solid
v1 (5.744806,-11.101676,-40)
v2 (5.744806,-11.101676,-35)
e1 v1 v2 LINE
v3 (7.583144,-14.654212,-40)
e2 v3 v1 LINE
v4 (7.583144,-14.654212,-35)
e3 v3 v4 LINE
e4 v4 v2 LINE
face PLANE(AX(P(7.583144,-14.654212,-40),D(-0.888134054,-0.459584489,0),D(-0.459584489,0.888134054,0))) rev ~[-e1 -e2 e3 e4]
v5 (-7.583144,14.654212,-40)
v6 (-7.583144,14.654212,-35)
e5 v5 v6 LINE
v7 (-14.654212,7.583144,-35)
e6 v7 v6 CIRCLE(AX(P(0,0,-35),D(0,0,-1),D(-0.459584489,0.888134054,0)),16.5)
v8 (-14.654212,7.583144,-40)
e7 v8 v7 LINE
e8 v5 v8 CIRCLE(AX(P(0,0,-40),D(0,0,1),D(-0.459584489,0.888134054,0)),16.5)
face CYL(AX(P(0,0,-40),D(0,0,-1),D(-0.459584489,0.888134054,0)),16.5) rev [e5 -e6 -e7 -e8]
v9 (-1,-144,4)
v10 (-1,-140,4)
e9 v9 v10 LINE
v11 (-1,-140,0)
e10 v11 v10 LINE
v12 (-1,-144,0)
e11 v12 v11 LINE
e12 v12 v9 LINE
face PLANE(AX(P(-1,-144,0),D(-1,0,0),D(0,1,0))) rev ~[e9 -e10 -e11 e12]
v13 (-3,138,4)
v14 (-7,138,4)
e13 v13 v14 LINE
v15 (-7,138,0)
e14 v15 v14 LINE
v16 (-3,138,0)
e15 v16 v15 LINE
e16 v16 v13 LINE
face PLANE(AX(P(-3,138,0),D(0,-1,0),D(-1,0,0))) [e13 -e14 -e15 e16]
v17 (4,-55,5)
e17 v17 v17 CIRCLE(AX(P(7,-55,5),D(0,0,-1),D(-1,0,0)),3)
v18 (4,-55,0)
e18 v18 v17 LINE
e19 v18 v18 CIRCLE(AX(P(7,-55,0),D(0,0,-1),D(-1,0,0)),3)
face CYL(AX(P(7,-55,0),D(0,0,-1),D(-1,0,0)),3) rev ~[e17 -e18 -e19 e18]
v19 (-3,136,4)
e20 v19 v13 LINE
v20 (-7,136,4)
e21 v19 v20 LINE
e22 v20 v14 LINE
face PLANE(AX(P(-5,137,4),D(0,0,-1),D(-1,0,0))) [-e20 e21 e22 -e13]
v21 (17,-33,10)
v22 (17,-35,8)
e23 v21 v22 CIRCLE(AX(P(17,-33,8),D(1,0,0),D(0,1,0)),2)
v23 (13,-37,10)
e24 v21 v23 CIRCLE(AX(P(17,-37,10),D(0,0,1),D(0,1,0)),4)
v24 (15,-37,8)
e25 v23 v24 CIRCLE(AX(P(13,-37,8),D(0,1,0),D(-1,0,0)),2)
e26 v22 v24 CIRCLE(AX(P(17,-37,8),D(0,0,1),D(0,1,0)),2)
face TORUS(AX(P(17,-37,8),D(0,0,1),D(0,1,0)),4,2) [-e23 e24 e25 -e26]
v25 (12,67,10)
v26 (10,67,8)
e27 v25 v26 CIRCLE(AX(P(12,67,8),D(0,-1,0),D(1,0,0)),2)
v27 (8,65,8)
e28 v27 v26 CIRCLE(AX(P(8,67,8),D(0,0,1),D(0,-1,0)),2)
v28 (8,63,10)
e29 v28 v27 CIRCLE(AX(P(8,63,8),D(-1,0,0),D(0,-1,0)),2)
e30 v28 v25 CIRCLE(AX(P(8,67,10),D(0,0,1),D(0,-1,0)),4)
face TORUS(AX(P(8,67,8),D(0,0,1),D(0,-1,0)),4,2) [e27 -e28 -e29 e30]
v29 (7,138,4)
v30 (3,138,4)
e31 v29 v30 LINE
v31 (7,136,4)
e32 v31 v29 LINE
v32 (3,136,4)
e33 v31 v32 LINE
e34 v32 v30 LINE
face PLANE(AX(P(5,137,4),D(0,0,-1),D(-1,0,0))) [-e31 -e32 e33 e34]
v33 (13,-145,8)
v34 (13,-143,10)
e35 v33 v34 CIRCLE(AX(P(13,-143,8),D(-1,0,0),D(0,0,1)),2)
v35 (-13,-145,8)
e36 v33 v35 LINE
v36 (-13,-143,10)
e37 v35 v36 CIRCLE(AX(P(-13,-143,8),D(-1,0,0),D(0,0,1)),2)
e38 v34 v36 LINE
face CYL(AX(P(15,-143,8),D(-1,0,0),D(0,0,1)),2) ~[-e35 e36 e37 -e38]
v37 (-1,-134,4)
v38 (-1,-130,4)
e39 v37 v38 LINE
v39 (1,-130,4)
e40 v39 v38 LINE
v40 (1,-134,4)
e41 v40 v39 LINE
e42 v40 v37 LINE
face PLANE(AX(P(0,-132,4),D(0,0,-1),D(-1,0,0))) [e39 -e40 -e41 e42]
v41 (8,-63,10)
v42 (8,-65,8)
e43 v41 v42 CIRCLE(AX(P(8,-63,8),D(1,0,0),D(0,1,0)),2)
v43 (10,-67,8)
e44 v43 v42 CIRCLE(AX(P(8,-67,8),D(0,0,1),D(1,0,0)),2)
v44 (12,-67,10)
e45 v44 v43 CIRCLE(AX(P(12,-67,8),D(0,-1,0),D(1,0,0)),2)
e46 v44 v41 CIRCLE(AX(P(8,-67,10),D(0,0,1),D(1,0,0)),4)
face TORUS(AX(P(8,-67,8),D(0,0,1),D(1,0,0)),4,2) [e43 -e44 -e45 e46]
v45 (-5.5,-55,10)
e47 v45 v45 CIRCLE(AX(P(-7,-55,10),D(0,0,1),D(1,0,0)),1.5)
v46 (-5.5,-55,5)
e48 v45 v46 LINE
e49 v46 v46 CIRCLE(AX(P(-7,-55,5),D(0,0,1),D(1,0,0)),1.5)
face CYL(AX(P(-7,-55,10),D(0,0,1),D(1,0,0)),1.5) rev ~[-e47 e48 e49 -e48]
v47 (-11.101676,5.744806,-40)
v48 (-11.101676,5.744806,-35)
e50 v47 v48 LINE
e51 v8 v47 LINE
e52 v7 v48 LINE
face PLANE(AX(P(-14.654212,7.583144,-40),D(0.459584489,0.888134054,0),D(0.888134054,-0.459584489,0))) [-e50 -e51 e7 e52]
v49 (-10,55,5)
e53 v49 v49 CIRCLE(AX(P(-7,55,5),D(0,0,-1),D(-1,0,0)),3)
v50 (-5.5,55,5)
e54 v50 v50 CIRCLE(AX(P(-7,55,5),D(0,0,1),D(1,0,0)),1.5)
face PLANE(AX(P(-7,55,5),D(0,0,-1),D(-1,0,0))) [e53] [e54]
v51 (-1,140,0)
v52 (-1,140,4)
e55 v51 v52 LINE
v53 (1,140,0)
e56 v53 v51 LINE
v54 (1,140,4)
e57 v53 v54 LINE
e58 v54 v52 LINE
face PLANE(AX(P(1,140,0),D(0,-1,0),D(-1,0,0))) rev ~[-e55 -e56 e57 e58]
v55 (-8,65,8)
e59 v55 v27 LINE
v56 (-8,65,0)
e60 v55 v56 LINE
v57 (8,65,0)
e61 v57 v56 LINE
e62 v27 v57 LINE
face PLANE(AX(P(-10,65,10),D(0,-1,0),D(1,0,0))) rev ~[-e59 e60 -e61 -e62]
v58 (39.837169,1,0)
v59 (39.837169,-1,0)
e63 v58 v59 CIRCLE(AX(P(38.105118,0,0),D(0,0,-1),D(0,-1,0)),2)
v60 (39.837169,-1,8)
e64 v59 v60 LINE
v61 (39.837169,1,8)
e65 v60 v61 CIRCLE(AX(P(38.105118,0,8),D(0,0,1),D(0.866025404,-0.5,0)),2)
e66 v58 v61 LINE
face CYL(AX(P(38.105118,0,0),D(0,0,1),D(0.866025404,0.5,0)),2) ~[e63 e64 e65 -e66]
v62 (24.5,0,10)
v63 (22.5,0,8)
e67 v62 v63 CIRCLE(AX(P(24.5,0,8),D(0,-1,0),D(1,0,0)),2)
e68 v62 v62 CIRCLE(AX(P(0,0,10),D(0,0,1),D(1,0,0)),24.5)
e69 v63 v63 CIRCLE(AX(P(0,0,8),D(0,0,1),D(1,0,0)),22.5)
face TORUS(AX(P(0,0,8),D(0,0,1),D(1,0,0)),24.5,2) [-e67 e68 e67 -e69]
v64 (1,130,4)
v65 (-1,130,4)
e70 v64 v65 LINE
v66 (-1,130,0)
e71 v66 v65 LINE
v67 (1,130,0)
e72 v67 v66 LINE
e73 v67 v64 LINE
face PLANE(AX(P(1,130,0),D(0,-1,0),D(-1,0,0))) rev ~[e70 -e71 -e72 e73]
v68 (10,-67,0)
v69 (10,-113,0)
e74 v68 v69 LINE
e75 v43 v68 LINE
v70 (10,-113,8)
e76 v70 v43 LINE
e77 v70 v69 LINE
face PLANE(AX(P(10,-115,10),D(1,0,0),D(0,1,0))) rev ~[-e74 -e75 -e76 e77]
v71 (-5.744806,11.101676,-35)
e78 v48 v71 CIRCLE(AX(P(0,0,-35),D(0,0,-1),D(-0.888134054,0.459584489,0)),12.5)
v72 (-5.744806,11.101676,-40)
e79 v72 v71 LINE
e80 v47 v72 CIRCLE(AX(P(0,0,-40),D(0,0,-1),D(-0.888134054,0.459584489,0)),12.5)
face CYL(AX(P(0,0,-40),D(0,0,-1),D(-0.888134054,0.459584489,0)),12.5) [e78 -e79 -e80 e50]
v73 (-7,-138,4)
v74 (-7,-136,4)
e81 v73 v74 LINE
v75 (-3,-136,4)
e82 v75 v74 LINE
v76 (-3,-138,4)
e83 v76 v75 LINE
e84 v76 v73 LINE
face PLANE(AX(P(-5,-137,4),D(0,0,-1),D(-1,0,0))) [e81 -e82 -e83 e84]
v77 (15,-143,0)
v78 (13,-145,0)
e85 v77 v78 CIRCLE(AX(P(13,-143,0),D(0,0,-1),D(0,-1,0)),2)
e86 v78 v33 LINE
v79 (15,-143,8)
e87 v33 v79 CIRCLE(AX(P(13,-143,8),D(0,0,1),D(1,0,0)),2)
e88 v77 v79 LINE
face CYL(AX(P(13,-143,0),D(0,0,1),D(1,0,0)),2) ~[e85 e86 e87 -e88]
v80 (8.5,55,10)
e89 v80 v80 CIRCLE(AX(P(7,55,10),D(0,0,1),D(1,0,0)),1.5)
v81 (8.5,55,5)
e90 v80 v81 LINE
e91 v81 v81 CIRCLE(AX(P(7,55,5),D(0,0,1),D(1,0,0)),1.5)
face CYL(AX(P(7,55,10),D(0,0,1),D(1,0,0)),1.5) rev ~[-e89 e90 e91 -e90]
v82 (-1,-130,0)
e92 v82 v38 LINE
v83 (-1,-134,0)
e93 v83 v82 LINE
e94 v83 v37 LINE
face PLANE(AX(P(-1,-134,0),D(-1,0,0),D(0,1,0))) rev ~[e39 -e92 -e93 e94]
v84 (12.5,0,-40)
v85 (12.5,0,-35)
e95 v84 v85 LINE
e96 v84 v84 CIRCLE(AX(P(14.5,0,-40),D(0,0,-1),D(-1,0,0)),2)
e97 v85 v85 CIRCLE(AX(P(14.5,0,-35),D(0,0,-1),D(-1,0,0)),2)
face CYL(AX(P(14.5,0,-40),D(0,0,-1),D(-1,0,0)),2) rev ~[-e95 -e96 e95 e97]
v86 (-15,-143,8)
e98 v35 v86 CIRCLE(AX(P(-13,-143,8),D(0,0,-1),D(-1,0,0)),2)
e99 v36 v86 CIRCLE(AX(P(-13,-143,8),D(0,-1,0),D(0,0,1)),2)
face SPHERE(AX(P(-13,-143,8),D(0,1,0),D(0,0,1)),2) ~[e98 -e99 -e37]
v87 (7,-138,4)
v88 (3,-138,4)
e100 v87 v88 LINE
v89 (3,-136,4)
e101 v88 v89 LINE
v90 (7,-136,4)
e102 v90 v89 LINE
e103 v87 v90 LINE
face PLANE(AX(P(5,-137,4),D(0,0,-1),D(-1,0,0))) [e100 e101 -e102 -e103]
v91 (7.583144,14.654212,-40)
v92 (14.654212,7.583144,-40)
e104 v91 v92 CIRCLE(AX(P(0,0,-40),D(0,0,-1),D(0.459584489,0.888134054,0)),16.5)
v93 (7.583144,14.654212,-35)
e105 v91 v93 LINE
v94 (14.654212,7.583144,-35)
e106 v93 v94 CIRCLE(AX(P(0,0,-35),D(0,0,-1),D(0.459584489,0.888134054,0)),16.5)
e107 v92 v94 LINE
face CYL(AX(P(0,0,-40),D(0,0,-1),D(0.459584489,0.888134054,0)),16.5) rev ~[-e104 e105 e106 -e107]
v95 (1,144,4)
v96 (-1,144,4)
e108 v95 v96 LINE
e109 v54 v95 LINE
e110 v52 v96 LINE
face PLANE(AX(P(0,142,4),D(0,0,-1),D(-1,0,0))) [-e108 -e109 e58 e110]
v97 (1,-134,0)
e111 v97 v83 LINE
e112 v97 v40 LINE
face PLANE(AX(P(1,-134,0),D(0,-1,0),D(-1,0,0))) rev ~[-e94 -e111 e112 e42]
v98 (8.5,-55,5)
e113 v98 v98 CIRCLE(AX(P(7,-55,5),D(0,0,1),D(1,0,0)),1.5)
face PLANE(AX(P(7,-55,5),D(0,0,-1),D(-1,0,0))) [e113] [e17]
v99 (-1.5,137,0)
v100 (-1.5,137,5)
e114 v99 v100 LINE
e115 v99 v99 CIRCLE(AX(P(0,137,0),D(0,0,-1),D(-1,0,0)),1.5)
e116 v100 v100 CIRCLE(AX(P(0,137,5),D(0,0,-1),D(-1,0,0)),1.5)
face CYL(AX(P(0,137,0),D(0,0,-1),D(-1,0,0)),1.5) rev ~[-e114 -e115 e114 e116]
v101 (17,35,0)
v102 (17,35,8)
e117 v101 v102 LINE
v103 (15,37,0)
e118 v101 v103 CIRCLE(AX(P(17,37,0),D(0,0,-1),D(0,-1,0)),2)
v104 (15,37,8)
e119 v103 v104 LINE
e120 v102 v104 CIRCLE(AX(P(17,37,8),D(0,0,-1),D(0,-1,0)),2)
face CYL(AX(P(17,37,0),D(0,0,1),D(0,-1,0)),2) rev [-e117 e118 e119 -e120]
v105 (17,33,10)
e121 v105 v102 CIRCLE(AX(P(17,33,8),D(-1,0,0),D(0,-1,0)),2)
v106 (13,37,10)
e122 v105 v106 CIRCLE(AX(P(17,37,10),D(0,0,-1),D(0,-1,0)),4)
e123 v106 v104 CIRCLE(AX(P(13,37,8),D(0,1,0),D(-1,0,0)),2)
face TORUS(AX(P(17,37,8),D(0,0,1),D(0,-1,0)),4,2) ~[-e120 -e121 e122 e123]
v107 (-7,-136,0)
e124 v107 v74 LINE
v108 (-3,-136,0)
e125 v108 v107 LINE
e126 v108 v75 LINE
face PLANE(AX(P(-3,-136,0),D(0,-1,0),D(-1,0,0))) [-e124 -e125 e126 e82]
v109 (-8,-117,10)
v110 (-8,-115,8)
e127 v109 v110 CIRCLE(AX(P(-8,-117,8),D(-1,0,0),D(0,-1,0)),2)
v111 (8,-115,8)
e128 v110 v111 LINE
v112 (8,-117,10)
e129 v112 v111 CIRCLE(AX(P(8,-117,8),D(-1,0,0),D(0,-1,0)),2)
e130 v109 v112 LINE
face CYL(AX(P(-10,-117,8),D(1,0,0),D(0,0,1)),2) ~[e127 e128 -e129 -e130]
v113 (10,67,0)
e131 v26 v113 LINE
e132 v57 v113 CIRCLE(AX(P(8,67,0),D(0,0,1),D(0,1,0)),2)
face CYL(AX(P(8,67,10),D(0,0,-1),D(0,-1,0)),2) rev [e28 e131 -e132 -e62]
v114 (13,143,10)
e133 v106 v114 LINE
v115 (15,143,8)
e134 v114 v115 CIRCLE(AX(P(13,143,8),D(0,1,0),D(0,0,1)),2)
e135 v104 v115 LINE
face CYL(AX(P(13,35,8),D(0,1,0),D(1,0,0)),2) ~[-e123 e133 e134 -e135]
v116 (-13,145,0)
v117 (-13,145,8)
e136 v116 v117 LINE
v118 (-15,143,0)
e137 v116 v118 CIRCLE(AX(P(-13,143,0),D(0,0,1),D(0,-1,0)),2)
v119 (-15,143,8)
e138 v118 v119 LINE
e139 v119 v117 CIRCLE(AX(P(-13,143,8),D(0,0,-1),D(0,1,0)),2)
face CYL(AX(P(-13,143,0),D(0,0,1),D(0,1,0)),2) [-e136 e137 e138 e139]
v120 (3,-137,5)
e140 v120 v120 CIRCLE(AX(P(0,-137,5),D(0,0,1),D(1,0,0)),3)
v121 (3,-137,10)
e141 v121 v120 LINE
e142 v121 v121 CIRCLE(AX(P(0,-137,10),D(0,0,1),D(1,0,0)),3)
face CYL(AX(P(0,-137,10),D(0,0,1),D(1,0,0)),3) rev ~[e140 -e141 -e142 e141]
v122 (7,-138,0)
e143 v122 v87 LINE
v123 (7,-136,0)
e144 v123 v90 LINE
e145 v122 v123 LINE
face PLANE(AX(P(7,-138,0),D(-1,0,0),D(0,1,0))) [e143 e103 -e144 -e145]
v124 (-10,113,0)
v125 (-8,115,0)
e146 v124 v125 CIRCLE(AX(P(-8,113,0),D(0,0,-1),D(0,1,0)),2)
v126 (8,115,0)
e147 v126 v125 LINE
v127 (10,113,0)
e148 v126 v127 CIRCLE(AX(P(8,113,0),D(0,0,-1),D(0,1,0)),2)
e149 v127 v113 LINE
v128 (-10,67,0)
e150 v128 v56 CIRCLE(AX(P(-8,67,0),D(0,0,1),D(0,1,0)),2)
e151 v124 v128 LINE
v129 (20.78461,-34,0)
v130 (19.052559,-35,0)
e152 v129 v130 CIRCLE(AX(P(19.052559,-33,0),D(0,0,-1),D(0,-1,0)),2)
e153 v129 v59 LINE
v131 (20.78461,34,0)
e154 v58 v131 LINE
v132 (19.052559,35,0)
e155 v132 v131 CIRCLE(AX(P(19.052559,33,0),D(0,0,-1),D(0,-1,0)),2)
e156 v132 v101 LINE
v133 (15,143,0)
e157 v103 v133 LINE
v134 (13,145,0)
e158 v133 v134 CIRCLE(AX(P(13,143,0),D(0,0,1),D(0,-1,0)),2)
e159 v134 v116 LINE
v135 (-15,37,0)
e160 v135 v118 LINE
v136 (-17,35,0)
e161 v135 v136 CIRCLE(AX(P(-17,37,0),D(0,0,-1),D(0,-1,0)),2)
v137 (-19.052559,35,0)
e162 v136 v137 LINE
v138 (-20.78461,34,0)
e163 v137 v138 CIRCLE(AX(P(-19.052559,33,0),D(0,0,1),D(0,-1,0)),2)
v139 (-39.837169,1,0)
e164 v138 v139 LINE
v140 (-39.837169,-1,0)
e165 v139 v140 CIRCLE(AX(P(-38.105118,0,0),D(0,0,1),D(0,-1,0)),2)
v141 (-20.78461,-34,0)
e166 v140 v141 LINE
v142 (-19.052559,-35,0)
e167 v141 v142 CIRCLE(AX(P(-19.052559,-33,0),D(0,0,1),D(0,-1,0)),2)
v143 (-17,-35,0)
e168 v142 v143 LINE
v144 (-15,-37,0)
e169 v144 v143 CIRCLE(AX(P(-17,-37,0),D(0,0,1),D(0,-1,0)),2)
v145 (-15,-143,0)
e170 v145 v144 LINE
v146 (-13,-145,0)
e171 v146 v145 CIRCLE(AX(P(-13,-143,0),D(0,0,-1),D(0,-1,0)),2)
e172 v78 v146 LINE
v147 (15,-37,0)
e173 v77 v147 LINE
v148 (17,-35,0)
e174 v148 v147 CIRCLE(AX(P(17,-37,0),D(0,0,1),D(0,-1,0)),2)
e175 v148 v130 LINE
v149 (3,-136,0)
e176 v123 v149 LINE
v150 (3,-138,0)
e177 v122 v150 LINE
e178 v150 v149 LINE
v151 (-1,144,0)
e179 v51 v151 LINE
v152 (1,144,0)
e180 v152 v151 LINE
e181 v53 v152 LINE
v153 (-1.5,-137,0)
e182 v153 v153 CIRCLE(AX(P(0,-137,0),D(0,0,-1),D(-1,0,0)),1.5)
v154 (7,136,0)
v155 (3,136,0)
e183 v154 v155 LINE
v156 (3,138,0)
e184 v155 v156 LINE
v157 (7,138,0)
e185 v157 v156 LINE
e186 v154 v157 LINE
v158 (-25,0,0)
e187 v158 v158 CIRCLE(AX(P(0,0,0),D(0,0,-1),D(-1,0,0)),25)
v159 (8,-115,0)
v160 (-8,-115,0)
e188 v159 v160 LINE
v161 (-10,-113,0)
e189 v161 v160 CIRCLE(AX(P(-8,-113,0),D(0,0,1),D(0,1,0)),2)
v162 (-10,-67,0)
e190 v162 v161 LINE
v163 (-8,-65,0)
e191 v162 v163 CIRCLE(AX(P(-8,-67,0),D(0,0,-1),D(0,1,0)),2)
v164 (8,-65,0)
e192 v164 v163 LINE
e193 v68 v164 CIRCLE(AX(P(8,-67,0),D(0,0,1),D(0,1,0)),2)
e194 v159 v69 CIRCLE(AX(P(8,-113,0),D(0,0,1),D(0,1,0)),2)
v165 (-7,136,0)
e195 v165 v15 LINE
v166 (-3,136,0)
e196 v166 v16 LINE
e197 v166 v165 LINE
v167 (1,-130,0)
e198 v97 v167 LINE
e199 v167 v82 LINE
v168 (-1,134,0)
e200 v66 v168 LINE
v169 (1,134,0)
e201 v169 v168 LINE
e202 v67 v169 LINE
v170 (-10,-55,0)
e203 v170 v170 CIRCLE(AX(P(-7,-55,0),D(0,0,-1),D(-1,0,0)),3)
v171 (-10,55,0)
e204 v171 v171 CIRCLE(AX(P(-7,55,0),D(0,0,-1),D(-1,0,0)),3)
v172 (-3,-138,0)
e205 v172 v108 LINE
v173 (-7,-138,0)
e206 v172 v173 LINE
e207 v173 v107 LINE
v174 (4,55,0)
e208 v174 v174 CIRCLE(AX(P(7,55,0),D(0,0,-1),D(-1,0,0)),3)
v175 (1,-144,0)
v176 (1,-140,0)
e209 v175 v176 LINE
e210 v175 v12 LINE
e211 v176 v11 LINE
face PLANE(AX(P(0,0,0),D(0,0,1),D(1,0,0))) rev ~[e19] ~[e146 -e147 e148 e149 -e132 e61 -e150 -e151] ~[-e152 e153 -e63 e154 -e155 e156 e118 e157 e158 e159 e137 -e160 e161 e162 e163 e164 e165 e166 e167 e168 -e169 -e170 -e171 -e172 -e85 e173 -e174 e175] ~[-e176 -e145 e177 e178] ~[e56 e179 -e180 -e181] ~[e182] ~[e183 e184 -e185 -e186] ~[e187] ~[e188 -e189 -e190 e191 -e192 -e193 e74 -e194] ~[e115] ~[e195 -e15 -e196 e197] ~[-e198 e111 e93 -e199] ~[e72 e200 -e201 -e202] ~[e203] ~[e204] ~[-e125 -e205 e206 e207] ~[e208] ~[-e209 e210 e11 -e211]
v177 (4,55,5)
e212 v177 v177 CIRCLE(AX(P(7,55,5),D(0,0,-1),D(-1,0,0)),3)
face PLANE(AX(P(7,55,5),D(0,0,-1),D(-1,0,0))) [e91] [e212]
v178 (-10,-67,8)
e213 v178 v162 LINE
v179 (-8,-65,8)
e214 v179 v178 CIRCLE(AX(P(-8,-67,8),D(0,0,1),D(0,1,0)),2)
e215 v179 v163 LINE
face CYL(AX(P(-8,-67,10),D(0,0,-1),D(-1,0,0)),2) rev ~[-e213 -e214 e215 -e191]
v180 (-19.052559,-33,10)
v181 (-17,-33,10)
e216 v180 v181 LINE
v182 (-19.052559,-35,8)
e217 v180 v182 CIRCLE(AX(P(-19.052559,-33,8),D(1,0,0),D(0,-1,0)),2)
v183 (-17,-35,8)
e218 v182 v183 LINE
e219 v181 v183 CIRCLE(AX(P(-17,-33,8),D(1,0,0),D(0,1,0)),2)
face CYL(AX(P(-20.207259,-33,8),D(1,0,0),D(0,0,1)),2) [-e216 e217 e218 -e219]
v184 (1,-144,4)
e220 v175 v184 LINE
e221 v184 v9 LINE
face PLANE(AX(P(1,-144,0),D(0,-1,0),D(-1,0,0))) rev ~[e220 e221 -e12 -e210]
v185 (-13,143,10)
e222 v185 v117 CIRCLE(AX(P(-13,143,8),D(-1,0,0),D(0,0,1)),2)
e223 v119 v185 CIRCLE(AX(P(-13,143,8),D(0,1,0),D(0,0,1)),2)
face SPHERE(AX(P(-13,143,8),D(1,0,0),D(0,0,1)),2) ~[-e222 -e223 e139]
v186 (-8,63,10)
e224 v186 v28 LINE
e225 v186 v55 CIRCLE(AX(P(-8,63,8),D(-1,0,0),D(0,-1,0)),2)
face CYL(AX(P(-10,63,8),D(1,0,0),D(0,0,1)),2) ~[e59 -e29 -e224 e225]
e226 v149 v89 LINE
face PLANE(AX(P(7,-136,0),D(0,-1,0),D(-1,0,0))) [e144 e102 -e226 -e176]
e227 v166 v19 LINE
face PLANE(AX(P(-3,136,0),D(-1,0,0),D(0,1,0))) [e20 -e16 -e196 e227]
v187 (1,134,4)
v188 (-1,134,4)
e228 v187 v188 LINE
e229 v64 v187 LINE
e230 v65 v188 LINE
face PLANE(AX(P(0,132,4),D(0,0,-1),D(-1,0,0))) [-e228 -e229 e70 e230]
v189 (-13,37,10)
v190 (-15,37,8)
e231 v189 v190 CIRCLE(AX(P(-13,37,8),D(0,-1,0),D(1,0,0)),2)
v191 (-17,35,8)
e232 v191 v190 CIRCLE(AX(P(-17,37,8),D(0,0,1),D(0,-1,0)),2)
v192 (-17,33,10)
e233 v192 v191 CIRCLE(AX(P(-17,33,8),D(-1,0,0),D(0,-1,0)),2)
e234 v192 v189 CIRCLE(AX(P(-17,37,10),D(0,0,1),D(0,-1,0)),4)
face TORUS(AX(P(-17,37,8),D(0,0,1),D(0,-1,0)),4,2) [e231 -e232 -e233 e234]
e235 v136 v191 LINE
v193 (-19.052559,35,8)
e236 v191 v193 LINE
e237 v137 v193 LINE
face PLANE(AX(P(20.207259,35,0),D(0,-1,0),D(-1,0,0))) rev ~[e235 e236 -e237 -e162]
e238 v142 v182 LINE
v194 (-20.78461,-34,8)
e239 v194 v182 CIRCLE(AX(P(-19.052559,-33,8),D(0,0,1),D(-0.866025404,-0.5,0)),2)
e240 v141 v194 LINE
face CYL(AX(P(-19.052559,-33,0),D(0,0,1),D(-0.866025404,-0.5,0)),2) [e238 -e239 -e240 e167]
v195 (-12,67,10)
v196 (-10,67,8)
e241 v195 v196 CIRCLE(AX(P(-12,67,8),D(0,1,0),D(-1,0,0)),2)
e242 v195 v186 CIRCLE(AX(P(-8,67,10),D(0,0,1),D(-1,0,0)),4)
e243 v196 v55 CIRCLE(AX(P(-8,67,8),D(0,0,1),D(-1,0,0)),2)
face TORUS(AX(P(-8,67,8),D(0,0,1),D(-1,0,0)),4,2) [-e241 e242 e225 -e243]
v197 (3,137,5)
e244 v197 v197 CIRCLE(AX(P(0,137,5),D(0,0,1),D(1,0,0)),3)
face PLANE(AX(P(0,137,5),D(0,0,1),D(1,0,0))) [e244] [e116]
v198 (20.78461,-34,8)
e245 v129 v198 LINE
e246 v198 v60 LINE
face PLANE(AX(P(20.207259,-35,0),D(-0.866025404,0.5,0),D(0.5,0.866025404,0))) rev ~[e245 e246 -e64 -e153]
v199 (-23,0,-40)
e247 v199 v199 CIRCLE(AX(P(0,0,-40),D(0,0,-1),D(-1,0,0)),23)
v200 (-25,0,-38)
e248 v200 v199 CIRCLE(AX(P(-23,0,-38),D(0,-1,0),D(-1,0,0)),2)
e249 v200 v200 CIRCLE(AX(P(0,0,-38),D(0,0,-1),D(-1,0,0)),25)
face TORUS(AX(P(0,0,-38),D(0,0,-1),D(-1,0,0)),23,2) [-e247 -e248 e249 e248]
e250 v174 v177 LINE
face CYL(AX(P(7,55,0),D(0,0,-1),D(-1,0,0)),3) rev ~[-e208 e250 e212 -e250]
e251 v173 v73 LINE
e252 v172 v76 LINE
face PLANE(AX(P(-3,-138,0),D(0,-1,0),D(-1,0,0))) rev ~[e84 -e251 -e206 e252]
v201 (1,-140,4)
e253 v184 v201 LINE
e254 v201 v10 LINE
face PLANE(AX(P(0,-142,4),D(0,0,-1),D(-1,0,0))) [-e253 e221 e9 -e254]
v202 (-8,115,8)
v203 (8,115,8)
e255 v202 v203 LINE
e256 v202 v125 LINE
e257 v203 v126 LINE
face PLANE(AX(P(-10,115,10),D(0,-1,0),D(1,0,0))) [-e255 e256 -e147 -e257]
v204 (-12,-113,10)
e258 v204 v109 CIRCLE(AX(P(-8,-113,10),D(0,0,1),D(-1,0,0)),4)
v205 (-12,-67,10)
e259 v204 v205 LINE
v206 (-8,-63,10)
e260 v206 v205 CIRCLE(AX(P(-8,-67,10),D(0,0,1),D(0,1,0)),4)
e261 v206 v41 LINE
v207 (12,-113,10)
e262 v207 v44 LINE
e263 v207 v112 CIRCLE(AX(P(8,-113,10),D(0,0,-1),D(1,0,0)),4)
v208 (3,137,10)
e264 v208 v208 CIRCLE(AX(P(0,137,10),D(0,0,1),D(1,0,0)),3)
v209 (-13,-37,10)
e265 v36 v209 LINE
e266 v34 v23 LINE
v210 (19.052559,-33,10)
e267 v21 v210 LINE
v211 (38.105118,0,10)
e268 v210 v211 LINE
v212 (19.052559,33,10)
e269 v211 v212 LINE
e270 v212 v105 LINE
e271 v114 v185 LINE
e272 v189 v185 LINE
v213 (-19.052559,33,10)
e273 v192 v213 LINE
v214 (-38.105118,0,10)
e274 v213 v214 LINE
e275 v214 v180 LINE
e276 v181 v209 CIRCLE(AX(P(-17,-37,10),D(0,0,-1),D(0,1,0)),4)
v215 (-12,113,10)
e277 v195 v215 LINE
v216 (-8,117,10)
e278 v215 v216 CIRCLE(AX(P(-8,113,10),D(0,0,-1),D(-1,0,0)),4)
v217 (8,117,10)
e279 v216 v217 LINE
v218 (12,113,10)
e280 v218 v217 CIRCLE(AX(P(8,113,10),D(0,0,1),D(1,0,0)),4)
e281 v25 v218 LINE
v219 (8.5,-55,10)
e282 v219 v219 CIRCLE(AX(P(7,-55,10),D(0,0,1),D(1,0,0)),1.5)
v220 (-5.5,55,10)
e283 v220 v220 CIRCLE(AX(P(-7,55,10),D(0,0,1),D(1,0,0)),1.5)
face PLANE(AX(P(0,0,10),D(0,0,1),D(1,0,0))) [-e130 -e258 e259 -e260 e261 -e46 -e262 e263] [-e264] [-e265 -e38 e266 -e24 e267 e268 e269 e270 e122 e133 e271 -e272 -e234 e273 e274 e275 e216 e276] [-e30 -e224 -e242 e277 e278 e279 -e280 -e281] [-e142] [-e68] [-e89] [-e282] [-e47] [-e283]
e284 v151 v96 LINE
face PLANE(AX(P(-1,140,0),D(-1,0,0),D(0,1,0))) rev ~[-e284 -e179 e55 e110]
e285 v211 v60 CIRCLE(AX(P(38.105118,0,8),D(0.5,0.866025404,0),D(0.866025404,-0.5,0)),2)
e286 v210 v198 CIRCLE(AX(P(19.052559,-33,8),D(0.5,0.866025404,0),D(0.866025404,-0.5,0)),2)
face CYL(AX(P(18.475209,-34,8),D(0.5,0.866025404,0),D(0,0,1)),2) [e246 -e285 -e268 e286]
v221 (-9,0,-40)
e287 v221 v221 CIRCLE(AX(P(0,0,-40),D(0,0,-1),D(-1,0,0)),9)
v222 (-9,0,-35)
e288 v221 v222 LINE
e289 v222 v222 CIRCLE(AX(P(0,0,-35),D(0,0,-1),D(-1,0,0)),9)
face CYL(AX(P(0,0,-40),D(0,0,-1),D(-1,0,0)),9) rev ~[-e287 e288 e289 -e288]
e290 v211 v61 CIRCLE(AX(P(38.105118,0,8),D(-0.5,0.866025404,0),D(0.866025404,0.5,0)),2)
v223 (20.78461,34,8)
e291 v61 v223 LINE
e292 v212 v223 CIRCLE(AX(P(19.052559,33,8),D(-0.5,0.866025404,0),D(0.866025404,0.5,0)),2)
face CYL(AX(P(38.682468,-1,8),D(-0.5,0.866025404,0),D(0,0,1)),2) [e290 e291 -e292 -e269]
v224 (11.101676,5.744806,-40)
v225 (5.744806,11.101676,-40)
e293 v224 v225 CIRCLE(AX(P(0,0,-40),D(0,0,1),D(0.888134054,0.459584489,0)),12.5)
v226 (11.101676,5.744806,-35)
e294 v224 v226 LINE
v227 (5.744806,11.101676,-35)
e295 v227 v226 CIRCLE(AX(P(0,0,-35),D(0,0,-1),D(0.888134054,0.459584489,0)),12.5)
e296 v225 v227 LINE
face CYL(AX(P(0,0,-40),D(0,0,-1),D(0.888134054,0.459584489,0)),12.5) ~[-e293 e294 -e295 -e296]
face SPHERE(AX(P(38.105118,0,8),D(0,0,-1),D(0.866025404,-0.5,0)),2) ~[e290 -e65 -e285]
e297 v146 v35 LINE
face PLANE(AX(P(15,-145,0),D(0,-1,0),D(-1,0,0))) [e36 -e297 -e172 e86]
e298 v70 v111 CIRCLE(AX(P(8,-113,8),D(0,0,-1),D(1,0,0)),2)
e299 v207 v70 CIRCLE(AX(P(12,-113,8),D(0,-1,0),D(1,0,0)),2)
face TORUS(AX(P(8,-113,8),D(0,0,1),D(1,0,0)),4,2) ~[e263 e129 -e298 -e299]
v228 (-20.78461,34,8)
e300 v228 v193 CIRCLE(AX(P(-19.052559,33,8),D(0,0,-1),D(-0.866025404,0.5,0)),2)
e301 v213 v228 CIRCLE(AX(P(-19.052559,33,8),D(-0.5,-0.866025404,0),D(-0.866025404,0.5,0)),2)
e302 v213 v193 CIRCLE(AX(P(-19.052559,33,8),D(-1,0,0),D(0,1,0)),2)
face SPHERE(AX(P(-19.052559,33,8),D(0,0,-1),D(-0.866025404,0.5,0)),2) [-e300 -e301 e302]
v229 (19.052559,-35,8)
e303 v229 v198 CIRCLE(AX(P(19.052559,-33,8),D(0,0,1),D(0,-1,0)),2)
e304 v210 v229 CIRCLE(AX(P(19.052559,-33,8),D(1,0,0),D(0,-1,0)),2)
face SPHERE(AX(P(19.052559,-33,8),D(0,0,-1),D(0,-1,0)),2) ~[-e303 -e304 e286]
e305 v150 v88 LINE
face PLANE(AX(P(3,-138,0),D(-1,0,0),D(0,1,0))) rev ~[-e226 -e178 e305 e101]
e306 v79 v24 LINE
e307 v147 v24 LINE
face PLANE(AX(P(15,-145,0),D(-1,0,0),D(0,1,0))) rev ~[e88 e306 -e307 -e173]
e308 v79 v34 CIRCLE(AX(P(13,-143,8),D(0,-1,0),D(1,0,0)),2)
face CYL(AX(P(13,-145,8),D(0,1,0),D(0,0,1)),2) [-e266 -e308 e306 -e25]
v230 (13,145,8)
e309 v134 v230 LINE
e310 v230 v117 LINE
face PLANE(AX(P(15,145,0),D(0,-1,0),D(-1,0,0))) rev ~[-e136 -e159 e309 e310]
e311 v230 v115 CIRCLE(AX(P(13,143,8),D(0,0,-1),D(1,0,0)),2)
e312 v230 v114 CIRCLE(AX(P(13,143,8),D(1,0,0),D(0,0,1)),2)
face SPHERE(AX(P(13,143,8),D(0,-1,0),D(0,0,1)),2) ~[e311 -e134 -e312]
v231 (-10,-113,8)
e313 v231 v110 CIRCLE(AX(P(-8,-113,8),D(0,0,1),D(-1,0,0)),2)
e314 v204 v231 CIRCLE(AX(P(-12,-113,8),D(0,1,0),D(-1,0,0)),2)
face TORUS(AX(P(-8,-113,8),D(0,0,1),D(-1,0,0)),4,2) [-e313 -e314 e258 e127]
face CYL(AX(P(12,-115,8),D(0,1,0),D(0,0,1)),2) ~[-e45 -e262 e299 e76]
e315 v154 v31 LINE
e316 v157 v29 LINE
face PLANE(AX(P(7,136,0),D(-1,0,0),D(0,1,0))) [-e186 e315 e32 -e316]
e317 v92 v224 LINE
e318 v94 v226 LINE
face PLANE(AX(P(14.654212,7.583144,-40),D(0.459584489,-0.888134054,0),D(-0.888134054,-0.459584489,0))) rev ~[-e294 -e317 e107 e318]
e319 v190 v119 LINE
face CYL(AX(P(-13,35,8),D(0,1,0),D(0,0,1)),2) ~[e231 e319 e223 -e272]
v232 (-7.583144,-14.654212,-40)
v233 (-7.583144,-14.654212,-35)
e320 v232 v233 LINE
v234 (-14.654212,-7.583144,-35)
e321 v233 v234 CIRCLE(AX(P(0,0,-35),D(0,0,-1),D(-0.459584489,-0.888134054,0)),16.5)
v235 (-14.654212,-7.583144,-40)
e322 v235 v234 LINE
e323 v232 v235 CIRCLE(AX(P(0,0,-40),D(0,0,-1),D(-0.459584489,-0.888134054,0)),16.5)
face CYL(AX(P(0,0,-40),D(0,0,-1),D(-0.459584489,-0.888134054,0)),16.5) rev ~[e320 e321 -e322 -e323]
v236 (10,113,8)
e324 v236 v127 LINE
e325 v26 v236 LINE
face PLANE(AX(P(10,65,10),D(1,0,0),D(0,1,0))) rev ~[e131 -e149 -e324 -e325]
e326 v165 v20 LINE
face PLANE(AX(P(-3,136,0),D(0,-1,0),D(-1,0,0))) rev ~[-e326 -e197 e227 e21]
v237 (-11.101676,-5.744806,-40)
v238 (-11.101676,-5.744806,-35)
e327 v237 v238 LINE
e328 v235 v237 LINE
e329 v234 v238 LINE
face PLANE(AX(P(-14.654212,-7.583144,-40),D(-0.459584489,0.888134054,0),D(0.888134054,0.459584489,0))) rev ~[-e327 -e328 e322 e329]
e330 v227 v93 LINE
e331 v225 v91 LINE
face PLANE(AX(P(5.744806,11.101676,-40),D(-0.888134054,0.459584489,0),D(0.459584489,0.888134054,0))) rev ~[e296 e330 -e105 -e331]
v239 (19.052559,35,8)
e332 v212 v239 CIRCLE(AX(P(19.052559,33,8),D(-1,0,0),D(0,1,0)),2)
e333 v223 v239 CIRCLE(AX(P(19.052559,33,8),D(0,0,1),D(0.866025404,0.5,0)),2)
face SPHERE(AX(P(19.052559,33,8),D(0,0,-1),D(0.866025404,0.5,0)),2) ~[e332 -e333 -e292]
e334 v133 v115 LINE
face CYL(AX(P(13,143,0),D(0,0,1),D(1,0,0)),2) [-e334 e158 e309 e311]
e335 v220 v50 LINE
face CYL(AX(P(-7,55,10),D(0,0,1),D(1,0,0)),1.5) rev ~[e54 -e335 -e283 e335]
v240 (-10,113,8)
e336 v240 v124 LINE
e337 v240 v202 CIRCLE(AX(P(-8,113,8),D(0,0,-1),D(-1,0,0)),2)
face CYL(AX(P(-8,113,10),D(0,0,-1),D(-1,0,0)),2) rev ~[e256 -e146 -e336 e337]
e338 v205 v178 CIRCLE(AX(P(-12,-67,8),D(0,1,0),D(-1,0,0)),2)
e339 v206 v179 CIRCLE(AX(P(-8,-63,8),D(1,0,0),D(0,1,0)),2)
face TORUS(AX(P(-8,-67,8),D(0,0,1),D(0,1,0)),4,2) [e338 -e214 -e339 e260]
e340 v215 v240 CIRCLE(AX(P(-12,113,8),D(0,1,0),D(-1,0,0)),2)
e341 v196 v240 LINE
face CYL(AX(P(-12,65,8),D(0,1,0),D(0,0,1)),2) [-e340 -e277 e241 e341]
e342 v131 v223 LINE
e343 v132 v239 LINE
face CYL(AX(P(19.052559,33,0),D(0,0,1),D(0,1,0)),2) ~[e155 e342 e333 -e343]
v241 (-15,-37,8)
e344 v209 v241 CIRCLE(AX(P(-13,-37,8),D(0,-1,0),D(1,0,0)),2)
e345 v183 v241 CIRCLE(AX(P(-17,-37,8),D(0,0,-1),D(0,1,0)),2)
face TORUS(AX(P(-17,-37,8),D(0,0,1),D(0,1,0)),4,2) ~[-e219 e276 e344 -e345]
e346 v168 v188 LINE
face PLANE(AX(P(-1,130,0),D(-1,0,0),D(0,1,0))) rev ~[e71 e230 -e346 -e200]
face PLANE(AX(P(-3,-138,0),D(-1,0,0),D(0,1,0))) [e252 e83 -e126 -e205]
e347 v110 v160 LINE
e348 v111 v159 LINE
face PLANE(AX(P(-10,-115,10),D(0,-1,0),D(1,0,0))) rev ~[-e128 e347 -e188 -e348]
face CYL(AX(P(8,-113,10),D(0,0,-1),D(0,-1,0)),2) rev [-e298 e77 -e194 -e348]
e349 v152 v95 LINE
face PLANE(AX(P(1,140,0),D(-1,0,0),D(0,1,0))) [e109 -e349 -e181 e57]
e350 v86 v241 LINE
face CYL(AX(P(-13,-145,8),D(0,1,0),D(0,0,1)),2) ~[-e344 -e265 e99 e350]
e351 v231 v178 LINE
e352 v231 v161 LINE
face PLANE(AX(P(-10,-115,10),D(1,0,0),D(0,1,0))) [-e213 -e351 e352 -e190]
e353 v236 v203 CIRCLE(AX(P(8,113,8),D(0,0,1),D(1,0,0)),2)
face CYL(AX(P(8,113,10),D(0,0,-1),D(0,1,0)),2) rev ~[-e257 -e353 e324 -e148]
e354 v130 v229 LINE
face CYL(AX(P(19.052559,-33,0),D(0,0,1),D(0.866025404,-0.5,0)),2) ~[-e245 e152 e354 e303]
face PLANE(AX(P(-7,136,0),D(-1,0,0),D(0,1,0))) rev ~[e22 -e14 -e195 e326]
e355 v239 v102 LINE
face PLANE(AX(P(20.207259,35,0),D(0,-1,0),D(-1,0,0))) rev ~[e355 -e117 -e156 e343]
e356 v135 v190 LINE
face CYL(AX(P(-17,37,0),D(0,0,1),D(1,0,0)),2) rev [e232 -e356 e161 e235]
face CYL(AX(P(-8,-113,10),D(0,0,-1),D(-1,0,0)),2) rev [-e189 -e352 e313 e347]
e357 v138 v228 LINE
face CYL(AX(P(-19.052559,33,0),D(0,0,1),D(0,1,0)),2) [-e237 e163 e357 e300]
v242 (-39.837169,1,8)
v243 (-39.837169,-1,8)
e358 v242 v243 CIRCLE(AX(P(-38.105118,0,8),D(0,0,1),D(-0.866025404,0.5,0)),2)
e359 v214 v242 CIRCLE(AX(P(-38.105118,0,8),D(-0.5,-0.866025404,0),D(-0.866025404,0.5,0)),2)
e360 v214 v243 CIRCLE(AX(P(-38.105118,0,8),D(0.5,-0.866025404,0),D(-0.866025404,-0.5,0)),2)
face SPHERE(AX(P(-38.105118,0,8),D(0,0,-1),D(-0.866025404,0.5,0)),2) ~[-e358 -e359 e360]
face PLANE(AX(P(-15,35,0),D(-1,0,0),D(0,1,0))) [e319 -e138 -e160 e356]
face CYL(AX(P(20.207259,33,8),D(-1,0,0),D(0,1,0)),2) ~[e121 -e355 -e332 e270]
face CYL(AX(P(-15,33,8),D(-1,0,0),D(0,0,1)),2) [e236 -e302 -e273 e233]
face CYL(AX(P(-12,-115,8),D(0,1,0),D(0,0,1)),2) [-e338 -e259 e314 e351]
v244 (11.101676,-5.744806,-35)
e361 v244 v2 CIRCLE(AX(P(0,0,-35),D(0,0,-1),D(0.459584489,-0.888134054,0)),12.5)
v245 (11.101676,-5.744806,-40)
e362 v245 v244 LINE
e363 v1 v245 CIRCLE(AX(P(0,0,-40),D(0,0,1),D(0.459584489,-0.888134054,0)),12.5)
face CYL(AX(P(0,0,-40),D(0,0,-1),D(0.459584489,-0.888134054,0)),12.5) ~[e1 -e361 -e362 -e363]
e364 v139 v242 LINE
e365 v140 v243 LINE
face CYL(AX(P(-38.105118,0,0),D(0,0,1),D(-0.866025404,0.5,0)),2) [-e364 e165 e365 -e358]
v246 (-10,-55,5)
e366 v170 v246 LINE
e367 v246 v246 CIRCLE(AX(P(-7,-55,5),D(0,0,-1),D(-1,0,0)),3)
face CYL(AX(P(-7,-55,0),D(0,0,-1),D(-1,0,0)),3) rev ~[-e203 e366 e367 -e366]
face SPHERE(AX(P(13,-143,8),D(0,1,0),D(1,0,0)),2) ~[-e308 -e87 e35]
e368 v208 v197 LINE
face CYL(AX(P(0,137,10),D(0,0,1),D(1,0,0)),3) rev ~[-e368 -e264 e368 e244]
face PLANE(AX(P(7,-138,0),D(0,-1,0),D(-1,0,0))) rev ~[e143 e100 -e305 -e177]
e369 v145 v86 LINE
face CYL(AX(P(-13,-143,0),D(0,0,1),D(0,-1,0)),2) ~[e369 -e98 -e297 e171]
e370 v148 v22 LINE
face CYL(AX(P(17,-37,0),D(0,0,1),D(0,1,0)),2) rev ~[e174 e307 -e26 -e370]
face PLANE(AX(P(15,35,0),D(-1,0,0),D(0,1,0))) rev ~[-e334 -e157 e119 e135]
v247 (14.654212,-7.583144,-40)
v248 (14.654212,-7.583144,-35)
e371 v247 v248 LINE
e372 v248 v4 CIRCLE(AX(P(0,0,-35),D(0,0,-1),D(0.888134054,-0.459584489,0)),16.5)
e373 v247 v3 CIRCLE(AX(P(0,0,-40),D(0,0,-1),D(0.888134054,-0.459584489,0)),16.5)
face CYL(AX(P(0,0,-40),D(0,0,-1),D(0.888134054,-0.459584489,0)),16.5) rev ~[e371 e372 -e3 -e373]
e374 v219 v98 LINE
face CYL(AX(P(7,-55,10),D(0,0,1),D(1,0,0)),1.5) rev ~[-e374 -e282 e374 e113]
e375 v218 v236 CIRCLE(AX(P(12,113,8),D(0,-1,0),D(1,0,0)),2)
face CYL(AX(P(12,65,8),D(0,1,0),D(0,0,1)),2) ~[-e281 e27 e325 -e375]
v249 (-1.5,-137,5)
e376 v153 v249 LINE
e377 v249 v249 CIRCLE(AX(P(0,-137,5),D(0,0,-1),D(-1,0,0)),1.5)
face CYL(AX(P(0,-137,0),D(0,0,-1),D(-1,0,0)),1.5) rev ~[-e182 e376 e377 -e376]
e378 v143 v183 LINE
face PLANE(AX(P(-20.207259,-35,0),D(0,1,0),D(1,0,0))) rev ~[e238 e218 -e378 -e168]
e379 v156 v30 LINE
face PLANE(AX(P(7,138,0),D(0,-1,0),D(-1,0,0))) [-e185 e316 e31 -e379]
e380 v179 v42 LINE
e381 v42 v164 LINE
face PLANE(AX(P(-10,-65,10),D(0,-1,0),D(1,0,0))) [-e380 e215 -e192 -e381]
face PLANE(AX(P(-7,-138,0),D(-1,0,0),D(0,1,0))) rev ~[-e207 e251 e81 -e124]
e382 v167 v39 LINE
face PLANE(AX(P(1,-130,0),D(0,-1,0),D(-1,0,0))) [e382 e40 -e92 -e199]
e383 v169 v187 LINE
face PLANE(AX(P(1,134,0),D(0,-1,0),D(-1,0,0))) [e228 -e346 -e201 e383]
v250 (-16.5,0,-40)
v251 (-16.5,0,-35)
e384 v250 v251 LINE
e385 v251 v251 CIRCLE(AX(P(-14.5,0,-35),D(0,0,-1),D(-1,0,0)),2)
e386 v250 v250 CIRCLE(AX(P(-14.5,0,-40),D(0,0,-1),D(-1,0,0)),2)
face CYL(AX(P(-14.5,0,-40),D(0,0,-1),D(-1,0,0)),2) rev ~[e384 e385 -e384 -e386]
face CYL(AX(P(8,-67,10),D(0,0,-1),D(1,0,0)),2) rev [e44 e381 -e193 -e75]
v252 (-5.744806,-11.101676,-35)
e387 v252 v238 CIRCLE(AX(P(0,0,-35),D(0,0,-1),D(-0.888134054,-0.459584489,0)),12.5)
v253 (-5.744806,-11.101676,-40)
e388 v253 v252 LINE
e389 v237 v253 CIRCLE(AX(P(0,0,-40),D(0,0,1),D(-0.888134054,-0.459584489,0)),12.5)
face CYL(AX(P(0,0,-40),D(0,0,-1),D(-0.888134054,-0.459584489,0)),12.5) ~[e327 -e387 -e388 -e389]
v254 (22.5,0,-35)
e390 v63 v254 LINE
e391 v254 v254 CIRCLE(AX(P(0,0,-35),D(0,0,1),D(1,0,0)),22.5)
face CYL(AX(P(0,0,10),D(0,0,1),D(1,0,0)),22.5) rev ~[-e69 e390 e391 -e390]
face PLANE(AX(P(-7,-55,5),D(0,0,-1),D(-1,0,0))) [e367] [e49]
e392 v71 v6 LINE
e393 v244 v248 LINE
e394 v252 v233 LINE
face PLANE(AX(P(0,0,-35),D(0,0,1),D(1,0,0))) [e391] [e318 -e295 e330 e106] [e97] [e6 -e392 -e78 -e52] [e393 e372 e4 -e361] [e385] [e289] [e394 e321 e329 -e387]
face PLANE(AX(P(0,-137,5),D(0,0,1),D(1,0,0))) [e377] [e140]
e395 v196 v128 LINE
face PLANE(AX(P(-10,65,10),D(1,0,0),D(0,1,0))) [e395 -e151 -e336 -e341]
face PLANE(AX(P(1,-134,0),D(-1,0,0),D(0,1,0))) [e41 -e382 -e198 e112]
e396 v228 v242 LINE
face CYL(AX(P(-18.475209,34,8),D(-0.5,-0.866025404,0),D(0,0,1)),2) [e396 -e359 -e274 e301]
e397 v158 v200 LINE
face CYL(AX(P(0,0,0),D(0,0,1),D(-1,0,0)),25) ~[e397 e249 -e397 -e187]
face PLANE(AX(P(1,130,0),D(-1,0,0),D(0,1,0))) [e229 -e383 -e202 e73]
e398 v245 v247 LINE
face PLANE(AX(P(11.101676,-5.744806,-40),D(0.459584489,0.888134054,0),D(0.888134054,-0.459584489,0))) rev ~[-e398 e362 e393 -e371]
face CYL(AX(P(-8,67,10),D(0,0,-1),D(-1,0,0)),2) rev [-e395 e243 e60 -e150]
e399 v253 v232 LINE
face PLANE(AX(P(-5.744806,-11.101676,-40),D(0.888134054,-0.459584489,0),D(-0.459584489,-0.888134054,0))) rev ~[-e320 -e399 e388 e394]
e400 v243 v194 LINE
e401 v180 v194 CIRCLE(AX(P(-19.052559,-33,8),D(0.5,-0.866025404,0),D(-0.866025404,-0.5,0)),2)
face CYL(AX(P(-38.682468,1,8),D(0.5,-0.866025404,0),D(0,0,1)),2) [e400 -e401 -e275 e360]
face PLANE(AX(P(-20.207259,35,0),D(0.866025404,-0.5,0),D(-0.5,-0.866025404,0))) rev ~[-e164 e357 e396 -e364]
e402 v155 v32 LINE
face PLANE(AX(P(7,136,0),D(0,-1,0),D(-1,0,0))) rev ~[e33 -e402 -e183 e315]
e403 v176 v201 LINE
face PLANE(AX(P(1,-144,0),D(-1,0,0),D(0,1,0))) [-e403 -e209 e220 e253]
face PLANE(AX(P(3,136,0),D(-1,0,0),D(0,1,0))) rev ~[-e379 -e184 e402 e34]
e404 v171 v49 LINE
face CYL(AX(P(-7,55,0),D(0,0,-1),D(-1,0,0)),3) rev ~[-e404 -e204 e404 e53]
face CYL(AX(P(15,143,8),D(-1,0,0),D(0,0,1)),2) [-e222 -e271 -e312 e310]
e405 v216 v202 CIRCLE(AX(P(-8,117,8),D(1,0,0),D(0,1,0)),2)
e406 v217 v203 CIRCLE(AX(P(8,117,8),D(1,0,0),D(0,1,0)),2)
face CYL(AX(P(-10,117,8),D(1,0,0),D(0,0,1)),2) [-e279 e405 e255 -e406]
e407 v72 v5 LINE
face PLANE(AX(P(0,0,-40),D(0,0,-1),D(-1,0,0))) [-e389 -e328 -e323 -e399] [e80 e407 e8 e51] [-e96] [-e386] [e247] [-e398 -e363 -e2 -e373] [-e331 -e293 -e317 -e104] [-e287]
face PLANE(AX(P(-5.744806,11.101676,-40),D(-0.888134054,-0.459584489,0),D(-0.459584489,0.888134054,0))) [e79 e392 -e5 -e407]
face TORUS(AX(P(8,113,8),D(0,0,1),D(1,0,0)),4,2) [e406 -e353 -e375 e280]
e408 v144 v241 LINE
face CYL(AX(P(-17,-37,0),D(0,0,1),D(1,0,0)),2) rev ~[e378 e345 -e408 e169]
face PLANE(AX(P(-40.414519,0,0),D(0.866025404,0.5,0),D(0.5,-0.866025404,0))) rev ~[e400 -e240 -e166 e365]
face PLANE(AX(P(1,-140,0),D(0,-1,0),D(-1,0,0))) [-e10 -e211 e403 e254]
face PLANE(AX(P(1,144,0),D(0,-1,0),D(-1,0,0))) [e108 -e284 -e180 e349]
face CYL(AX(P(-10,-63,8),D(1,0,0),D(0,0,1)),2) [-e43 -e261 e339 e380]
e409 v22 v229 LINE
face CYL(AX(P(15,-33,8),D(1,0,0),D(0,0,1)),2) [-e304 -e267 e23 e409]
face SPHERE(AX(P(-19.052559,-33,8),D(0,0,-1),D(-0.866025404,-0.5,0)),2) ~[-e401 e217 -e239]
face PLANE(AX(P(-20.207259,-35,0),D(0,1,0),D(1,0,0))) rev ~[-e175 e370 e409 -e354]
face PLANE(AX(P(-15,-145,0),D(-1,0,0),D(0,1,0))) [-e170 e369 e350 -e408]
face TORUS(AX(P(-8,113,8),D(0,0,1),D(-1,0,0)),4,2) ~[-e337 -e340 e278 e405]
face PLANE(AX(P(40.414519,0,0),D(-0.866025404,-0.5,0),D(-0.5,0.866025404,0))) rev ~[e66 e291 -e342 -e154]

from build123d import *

# Parameters (mm, degrees)
BOSS_EXTRUDE2_DEPTH = 10
SKETCH4_W           = 30
SKETCH4_H           = 110
SKETCH4_R           = 1.5
BOSS_EXTRUDE4_DEPTH = 10
SKETCH5_R           = 3
CUT_EXTRUDE3_DEPTH  = 5
SKETCH6_W           = 4
SKETCH6_H           = 2
SKETCH6_W_2         = 2
SKETCH6_H_2         = 4
CUT_EXTRUDE4_DEPTH  = 4
CUT_EXTRUDE7_REACH  = 12
SKETCH13_W          = 20
SKETCH13_H          = 50
FILLET4_R           = 2
SKETCH14_R          = 25
BOSS_EXTRUDE5_DEPTH = 40
SKETCH15_R          = 22.5
CUT_EXTRUDE8_DEPTH  = 45
CUT_EXTRUDE9_REACH  = 52
SKETCH16_R          = 9
CUT_EXTRUDE10_REACH = 52
SKETCH17_R          = 2
FILLET5_R           = 2
FILLET6_R           = 2
CUT_EXTRUDE11_REACH = 52
CUT_EXTRUDE12_REACH = 52
SKETCH19_R          = 1.5
SKETCH20_R          = 3
CUT_EXTRUDE13_DEPTH = 5


with BuildPart() as part:
    # Sketch1 → Boss-Extrude2 (new body)
    with BuildSketch(Plane.XY):
        Polygon((20.207259422, 35), (-20.207259422, 35), (-40.414518843, 0), (-20.207259422, -35), (20.207259422, -35), (40.414518843, 0), align=None)
    extrude(amount=BOSS_EXTRUDE2_DEPTH)

    # Sketch4 → Boss-Extrude4 (add)
    with BuildSketch(Plane(origin=(0, 0, 0), x_dir=(-1, 0, 0), z_dir=(0, 0, -1))):
        with Locations((0, 90)):
            Rectangle(SKETCH4_W, SKETCH4_H)
        with Locations((0, 137)):
            Circle(SKETCH4_R, mode=Mode.SUBTRACT)
        with Locations((0, -90)):
            Rectangle(SKETCH4_W, SKETCH4_H)
        with Locations((0, -137)):
            Circle(SKETCH4_R, mode=Mode.SUBTRACT)
    extrude(amount=-BOSS_EXTRUDE4_DEPTH)

    # Sketch5 → Cut-Extrude3 (cut)
    with BuildSketch(Plane.XY.offset(10)):
        with Locations((0, 137)):
            Circle(SKETCH5_R)
        with Locations((0, -137)):
            Circle(SKETCH5_R)
    extrude(amount=-CUT_EXTRUDE3_DEPTH, mode=Mode.SUBTRACT)

    # Sketch6 → Cut-Extrude4 (cut)
    with BuildSketch(Plane(origin=(0, 0, 0), x_dir=(-1, 0, 0), z_dir=(0, 0, -1))):
        with Locations((5, 137)):
            Rectangle(SKETCH6_W, SKETCH6_H)
        with Locations((0, 142)):
            Rectangle(SKETCH6_W_2, SKETCH6_H_2)
        with Locations((0, 132)):
            Rectangle(SKETCH6_W_2, SKETCH6_H_2)
        with Locations((-5, 137)):
            Rectangle(SKETCH6_W, SKETCH6_H)
        with Locations((0, -132)):
            Rectangle(SKETCH6_W_2, SKETCH6_H_2)
        with Locations((5, -137)):
            Rectangle(SKETCH6_W, SKETCH6_H)
        with Locations((-5, -137)):
            Rectangle(SKETCH6_W, SKETCH6_H)
        with Locations((0, -142)):
            Rectangle(SKETCH6_W_2, SKETCH6_H_2)
    extrude(amount=-CUT_EXTRUDE4_DEPTH, mode=Mode.SUBTRACT)

    # Sketch13 → Cut-Extrude7 (cut, up to next)
    with BuildSketch(Plane.XY.offset(10), mode=Mode.PRIVATE) as cut_extrude7_sk1:
        with Locations((0, 90)):
            Rectangle(SKETCH13_W, SKETCH13_H)
    cut_extrude7_tool1 = extrude(cut_extrude7_sk1.sketch, amount=-CUT_EXTRUDE7_REACH, mode=Mode.PRIVATE) & part.part
    add(cut_extrude7_tool1.solids().sort_by_distance((0, 90, 10))[0], mode=Mode.SUBTRACT)
    # Sketch13 → Cut-Extrude7 (cut, up to next)
    with BuildSketch(Plane.XY.offset(10), mode=Mode.PRIVATE) as cut_extrude7_sk2:
        with Locations((0, -90)):
            Rectangle(SKETCH13_W, SKETCH13_H)
    cut_extrude7_tool2 = extrude(cut_extrude7_sk2.sketch, amount=-CUT_EXTRUDE7_REACH, mode=Mode.PRIVATE) & part.part
    add(cut_extrude7_tool2.solids().sort_by_distance((0, -90, 10))[0], mode=Mode.SUBTRACT)

    # Fillet4
    fillet4_edges = [part.edges().sort_by_distance(p)[0] for p in [
        (40.414518843, 0, 5),
        (20.207259422, -35, 5),
        (-20.207259422, -35, 5),
        (-40.414518843, 0, 5),
        (-20.207259422, 35, 5),
        (20.207259422, 35, 5),
        (-30.310889132, 17.5, 10),
        (-30.310889132, -17.5, 10),
        (-10, 65, 5),
        (-10, 115, 5),
        (10, 115, 5),
        (10, 65, 5),
        (-10, 90, 10),
        (0, 65, 10),
        (10, 90, 10),
        (0, 115, 10),
        (10, -65, 5),
        (10, -115, 5),
        (-10, -115, 5),
        (-10, -65, 5),
        (10, -90, 10),
        (0, -65, 10),
        (-10, -90, 10),
        (0, -115, 10),
        (-17.603629711, -35, 10),
        (17.603629711, -35, 10),
        (-17.603629711, 35, 10),
        (30.310889132, -17.5, 10),
        (15, 90, 10),
        (15, 35, 5),
        (0, 145, 10),
        (15, 145, 5),
        (-15, 90, 10),
        (-15, 145, 5),
        (-15, 35, 5),
        (15, -90, 10),
        (15, -145, 5),
        (15, -35, 5),
        (-15, -90, 10),
        (-15, -35, 5),
        (0, -145, 10),
        (-15, -145, 5),
        (30.310889132, 17.5, 10),
        (17.603629711, 35, 10),
    ]]
    fillet(fillet4_edges, radius=FILLET4_R)

    # Sketch14 → Boss-Extrude5 (add)
    with BuildSketch(Plane(origin=(0, 0, 0), x_dir=(-1, 0, 0), z_dir=(0, 0, -1))):
        Circle(SKETCH14_R)
    extrude(amount=BOSS_EXTRUDE5_DEPTH)

    # Sketch15 → Cut-Extrude8 (cut)
    with BuildSketch(Plane.XY.offset(10)):
        Circle(SKETCH15_R)
    extrude(amount=-CUT_EXTRUDE8_DEPTH, mode=Mode.SUBTRACT)

    # Sketch16 → Cut-Extrude9 (cut, up to next)
    with BuildSketch(Plane(origin=(0, 0, -40), x_dir=(-1, 0, 0), z_dir=(0, 0, -1)), mode=Mode.PRIVATE) as cut_extrude9_sk1:
        Circle(SKETCH16_R)
    cut_extrude9_tool1 = extrude(cut_extrude9_sk1.sketch, amount=-CUT_EXTRUDE9_REACH, mode=Mode.PRIVATE) & part.part
    add(cut_extrude9_tool1.solids().sort_by_distance((0, 0, -40))[0], mode=Mode.SUBTRACT)

    # Sketch17 → Cut-Extrude10 (cut, up to next)
    with BuildSketch(Plane(origin=(0, 0, -40), x_dir=(-1, 0, 0), z_dir=(0, 0, -1)), mode=Mode.PRIVATE) as cut_extrude10_sk1:
        with Locations((-14.5, 0)):
            Circle(SKETCH17_R)
    cut_extrude10_tool1 = extrude(cut_extrude10_sk1.sketch, amount=-CUT_EXTRUDE10_REACH, mode=Mode.PRIVATE) & part.part
    add(cut_extrude10_tool1.solids().sort_by_distance((14.5, 0, -40))[0], mode=Mode.SUBTRACT)
    # Sketch17 → Cut-Extrude10 (cut, up to next)
    with BuildSketch(Plane(origin=(0, 0, -40), x_dir=(-1, 0, 0), z_dir=(0, 0, -1)), mode=Mode.PRIVATE) as cut_extrude10_sk2:
        with Locations((14.5, 0)):
            Circle(SKETCH17_R)
    cut_extrude10_tool2 = extrude(cut_extrude10_sk2.sketch, amount=-CUT_EXTRUDE10_REACH, mode=Mode.PRIVATE) & part.part
    add(cut_extrude10_tool2.solids().sort_by_distance((-14.5, 0, -40))[0], mode=Mode.SUBTRACT)

    # Fillet5
    fillet5_edges = [part.edges().sort_by_distance(p)[0] for p in [
        (25, 0, -40),
    ]]
    fillet(fillet5_edges, radius=FILLET5_R)

    # Fillet6
    fillet6_edges = [part.edges().sort_by_distance(p)[0] for p in [
        (-22.5, 0, 10),
    ]]
    fillet(fillet6_edges, radius=FILLET6_R)

    # Sketch18 → Cut-Extrude11 (cut, up to next)
    with BuildSketch(Plane(origin=(0, 0, -40), x_dir=(-1, 0, 0), z_dir=(0, 0, -1)), mode=Mode.PRIVATE) as cut_extrude11_sk1:
        with BuildLine():
            Line((14.654211885, 7.583144073), (11.10167567, 5.744806116))
            ThreePointArc((11.10167567, 5.744806116), (8.838834765, 8.838834765), (5.744806116, 11.10167567))
            Line((5.744806116, 11.10167567), (7.583144073, 14.654211885))
            ThreePointArc((7.583144073, 14.654211885), (11.66726189, 11.66726189), (14.654211885, 7.583144073))
        make_face()
    cut_extrude11_tool1 = extrude(cut_extrude11_sk1.sketch, amount=-CUT_EXTRUDE11_REACH, mode=Mode.PRIVATE) & part.part
    add(cut_extrude11_tool1.solids().sort_by_distance((-10.155842, 10.155842, -40))[0], mode=Mode.SUBTRACT)
    # Sketch18 → Cut-Extrude11 (cut, up to next)
    with BuildSketch(Plane(origin=(0, 0, -40), x_dir=(-1, 0, 0), z_dir=(0, 0, -1)), mode=Mode.PRIVATE) as cut_extrude11_sk2:
        with BuildLine():
            Line((14.654211885, -7.583144073), (11.10167567, -5.744806116))
            ThreePointArc((11.10167567, -5.744806116), (8.838834765, -8.838834765), (5.744806116, -11.10167567))
            Line((5.744806116, -11.10167567), (7.583144073, -14.654211885))
            ThreePointArc((7.583144073, -14.654211885), (11.66726189, -11.66726189), (14.654211885, -7.583144073))
        make_face()
    cut_extrude11_tool2 = extrude(cut_extrude11_sk2.sketch, amount=-CUT_EXTRUDE11_REACH, mode=Mode.PRIVATE) & part.part
    add(cut_extrude11_tool2.solids().sort_by_distance((-10.155842, -10.155842, -40))[0], mode=Mode.SUBTRACT)
    # Sketch18 → Cut-Extrude11 (cut, up to next)
    with BuildSketch(Plane(origin=(0, 0, -40), x_dir=(-1, 0, 0), z_dir=(0, 0, -1)), mode=Mode.PRIVATE) as cut_extrude11_sk3:
        with BuildLine():
            Line((-7.583144073, -14.654211885), (-5.744806116, -11.10167567))
            ThreePointArc((-5.744806116, -11.10167567), (-8.838834765, -8.838834765), (-11.10167567, -5.744806116))
            Line((-11.10167567, -5.744806116), (-14.654211885, -7.583144073))
            ThreePointArc((-14.654211885, -7.583144073), (-11.66726189, -11.66726189), (-7.583144073, -14.654211885))
        make_face()
    cut_extrude11_tool3 = extrude(cut_extrude11_sk3.sketch, amount=-CUT_EXTRUDE11_REACH, mode=Mode.PRIVATE) & part.part
    add(cut_extrude11_tool3.solids().sort_by_distance((10.155842, -10.155842, -40))[0], mode=Mode.SUBTRACT)
    # Sketch18 → Cut-Extrude11 (cut, up to next)
    with BuildSketch(Plane(origin=(0, 0, -40), x_dir=(-1, 0, 0), z_dir=(0, 0, -1)), mode=Mode.PRIVATE) as cut_extrude11_sk4:
        with BuildLine():
            Line((-14.654211885, 7.583144073), (-11.10167567, 5.744806116))
            ThreePointArc((-11.10167567, 5.744806116), (-8.838834765, 8.838834765), (-5.744806116, 11.10167567))
            Line((-5.744806116, 11.10167567), (-7.583144073, 14.654211885))
            ThreePointArc((-7.583144073, 14.654211885), (-11.66726189, 11.66726189), (-14.654211885, 7.583144073))
        make_face()
    cut_extrude11_tool4 = extrude(cut_extrude11_sk4.sketch, amount=-CUT_EXTRUDE11_REACH, mode=Mode.PRIVATE) & part.part
    add(cut_extrude11_tool4.solids().sort_by_distance((10.155842, 10.155842, -40))[0], mode=Mode.SUBTRACT)

    # Sketch19 → Cut-Extrude12 (cut, up to next)
    with BuildSketch(Plane.XY.offset(10), mode=Mode.PRIVATE) as cut_extrude12_sk1:
        with Locations((-7, 55)):
            Circle(SKETCH19_R)
    cut_extrude12_tool1 = extrude(cut_extrude12_sk1.sketch, amount=-CUT_EXTRUDE12_REACH, mode=Mode.PRIVATE) & part.part
    add(cut_extrude12_tool1.solids().sort_by_distance((-7, 55, 10))[0], mode=Mode.SUBTRACT)
    # Sketch19 → Cut-Extrude12 (cut, up to next)
    with BuildSketch(Plane.XY.offset(10), mode=Mode.PRIVATE) as cut_extrude12_sk2:
        with Locations((7, 55)):
            Circle(SKETCH19_R)
    cut_extrude12_tool2 = extrude(cut_extrude12_sk2.sketch, amount=-CUT_EXTRUDE12_REACH, mode=Mode.PRIVATE) & part.part
    add(cut_extrude12_tool2.solids().sort_by_distance((7, 55, 10))[0], mode=Mode.SUBTRACT)
    # Sketch19 → Cut-Extrude12 (cut, up to next)
    with BuildSketch(Plane.XY.offset(10), mode=Mode.PRIVATE) as cut_extrude12_sk3:
        with Locations((7, -55)):
            Circle(SKETCH19_R)
    cut_extrude12_tool3 = extrude(cut_extrude12_sk3.sketch, amount=-CUT_EXTRUDE12_REACH, mode=Mode.PRIVATE) & part.part
    add(cut_extrude12_tool3.solids().sort_by_distance((7, -55, 10))[0], mode=Mode.SUBTRACT)
    # Sketch19 → Cut-Extrude12 (cut, up to next)
    with BuildSketch(Plane.XY.offset(10), mode=Mode.PRIVATE) as cut_extrude12_sk4:
        with Locations((-7, -55)):
            Circle(SKETCH19_R)
    cut_extrude12_tool4 = extrude(cut_extrude12_sk4.sketch, amount=-CUT_EXTRUDE12_REACH, mode=Mode.PRIVATE) & part.part
    add(cut_extrude12_tool4.solids().sort_by_distance((-7, -55, 10))[0], mode=Mode.SUBTRACT)

    # Sketch20 → Cut-Extrude13 (cut)
    with BuildSketch(Plane(origin=(0, 0, 0), x_dir=(-1, 0, 0), z_dir=(0, 0, -1))):
        with Locations((-7, -55)):
            Circle(SKETCH20_R)
        with Locations((7, -55)):
            Circle(SKETCH20_R)
        with Locations((-7, 55)):
            Circle(SKETCH20_R)
        with Locations((7, 55)):
            Circle(SKETCH20_R)
    extrude(amount=-CUT_EXTRUDE13_DEPTH, mode=Mode.SUBTRACT)


solid = part.part
